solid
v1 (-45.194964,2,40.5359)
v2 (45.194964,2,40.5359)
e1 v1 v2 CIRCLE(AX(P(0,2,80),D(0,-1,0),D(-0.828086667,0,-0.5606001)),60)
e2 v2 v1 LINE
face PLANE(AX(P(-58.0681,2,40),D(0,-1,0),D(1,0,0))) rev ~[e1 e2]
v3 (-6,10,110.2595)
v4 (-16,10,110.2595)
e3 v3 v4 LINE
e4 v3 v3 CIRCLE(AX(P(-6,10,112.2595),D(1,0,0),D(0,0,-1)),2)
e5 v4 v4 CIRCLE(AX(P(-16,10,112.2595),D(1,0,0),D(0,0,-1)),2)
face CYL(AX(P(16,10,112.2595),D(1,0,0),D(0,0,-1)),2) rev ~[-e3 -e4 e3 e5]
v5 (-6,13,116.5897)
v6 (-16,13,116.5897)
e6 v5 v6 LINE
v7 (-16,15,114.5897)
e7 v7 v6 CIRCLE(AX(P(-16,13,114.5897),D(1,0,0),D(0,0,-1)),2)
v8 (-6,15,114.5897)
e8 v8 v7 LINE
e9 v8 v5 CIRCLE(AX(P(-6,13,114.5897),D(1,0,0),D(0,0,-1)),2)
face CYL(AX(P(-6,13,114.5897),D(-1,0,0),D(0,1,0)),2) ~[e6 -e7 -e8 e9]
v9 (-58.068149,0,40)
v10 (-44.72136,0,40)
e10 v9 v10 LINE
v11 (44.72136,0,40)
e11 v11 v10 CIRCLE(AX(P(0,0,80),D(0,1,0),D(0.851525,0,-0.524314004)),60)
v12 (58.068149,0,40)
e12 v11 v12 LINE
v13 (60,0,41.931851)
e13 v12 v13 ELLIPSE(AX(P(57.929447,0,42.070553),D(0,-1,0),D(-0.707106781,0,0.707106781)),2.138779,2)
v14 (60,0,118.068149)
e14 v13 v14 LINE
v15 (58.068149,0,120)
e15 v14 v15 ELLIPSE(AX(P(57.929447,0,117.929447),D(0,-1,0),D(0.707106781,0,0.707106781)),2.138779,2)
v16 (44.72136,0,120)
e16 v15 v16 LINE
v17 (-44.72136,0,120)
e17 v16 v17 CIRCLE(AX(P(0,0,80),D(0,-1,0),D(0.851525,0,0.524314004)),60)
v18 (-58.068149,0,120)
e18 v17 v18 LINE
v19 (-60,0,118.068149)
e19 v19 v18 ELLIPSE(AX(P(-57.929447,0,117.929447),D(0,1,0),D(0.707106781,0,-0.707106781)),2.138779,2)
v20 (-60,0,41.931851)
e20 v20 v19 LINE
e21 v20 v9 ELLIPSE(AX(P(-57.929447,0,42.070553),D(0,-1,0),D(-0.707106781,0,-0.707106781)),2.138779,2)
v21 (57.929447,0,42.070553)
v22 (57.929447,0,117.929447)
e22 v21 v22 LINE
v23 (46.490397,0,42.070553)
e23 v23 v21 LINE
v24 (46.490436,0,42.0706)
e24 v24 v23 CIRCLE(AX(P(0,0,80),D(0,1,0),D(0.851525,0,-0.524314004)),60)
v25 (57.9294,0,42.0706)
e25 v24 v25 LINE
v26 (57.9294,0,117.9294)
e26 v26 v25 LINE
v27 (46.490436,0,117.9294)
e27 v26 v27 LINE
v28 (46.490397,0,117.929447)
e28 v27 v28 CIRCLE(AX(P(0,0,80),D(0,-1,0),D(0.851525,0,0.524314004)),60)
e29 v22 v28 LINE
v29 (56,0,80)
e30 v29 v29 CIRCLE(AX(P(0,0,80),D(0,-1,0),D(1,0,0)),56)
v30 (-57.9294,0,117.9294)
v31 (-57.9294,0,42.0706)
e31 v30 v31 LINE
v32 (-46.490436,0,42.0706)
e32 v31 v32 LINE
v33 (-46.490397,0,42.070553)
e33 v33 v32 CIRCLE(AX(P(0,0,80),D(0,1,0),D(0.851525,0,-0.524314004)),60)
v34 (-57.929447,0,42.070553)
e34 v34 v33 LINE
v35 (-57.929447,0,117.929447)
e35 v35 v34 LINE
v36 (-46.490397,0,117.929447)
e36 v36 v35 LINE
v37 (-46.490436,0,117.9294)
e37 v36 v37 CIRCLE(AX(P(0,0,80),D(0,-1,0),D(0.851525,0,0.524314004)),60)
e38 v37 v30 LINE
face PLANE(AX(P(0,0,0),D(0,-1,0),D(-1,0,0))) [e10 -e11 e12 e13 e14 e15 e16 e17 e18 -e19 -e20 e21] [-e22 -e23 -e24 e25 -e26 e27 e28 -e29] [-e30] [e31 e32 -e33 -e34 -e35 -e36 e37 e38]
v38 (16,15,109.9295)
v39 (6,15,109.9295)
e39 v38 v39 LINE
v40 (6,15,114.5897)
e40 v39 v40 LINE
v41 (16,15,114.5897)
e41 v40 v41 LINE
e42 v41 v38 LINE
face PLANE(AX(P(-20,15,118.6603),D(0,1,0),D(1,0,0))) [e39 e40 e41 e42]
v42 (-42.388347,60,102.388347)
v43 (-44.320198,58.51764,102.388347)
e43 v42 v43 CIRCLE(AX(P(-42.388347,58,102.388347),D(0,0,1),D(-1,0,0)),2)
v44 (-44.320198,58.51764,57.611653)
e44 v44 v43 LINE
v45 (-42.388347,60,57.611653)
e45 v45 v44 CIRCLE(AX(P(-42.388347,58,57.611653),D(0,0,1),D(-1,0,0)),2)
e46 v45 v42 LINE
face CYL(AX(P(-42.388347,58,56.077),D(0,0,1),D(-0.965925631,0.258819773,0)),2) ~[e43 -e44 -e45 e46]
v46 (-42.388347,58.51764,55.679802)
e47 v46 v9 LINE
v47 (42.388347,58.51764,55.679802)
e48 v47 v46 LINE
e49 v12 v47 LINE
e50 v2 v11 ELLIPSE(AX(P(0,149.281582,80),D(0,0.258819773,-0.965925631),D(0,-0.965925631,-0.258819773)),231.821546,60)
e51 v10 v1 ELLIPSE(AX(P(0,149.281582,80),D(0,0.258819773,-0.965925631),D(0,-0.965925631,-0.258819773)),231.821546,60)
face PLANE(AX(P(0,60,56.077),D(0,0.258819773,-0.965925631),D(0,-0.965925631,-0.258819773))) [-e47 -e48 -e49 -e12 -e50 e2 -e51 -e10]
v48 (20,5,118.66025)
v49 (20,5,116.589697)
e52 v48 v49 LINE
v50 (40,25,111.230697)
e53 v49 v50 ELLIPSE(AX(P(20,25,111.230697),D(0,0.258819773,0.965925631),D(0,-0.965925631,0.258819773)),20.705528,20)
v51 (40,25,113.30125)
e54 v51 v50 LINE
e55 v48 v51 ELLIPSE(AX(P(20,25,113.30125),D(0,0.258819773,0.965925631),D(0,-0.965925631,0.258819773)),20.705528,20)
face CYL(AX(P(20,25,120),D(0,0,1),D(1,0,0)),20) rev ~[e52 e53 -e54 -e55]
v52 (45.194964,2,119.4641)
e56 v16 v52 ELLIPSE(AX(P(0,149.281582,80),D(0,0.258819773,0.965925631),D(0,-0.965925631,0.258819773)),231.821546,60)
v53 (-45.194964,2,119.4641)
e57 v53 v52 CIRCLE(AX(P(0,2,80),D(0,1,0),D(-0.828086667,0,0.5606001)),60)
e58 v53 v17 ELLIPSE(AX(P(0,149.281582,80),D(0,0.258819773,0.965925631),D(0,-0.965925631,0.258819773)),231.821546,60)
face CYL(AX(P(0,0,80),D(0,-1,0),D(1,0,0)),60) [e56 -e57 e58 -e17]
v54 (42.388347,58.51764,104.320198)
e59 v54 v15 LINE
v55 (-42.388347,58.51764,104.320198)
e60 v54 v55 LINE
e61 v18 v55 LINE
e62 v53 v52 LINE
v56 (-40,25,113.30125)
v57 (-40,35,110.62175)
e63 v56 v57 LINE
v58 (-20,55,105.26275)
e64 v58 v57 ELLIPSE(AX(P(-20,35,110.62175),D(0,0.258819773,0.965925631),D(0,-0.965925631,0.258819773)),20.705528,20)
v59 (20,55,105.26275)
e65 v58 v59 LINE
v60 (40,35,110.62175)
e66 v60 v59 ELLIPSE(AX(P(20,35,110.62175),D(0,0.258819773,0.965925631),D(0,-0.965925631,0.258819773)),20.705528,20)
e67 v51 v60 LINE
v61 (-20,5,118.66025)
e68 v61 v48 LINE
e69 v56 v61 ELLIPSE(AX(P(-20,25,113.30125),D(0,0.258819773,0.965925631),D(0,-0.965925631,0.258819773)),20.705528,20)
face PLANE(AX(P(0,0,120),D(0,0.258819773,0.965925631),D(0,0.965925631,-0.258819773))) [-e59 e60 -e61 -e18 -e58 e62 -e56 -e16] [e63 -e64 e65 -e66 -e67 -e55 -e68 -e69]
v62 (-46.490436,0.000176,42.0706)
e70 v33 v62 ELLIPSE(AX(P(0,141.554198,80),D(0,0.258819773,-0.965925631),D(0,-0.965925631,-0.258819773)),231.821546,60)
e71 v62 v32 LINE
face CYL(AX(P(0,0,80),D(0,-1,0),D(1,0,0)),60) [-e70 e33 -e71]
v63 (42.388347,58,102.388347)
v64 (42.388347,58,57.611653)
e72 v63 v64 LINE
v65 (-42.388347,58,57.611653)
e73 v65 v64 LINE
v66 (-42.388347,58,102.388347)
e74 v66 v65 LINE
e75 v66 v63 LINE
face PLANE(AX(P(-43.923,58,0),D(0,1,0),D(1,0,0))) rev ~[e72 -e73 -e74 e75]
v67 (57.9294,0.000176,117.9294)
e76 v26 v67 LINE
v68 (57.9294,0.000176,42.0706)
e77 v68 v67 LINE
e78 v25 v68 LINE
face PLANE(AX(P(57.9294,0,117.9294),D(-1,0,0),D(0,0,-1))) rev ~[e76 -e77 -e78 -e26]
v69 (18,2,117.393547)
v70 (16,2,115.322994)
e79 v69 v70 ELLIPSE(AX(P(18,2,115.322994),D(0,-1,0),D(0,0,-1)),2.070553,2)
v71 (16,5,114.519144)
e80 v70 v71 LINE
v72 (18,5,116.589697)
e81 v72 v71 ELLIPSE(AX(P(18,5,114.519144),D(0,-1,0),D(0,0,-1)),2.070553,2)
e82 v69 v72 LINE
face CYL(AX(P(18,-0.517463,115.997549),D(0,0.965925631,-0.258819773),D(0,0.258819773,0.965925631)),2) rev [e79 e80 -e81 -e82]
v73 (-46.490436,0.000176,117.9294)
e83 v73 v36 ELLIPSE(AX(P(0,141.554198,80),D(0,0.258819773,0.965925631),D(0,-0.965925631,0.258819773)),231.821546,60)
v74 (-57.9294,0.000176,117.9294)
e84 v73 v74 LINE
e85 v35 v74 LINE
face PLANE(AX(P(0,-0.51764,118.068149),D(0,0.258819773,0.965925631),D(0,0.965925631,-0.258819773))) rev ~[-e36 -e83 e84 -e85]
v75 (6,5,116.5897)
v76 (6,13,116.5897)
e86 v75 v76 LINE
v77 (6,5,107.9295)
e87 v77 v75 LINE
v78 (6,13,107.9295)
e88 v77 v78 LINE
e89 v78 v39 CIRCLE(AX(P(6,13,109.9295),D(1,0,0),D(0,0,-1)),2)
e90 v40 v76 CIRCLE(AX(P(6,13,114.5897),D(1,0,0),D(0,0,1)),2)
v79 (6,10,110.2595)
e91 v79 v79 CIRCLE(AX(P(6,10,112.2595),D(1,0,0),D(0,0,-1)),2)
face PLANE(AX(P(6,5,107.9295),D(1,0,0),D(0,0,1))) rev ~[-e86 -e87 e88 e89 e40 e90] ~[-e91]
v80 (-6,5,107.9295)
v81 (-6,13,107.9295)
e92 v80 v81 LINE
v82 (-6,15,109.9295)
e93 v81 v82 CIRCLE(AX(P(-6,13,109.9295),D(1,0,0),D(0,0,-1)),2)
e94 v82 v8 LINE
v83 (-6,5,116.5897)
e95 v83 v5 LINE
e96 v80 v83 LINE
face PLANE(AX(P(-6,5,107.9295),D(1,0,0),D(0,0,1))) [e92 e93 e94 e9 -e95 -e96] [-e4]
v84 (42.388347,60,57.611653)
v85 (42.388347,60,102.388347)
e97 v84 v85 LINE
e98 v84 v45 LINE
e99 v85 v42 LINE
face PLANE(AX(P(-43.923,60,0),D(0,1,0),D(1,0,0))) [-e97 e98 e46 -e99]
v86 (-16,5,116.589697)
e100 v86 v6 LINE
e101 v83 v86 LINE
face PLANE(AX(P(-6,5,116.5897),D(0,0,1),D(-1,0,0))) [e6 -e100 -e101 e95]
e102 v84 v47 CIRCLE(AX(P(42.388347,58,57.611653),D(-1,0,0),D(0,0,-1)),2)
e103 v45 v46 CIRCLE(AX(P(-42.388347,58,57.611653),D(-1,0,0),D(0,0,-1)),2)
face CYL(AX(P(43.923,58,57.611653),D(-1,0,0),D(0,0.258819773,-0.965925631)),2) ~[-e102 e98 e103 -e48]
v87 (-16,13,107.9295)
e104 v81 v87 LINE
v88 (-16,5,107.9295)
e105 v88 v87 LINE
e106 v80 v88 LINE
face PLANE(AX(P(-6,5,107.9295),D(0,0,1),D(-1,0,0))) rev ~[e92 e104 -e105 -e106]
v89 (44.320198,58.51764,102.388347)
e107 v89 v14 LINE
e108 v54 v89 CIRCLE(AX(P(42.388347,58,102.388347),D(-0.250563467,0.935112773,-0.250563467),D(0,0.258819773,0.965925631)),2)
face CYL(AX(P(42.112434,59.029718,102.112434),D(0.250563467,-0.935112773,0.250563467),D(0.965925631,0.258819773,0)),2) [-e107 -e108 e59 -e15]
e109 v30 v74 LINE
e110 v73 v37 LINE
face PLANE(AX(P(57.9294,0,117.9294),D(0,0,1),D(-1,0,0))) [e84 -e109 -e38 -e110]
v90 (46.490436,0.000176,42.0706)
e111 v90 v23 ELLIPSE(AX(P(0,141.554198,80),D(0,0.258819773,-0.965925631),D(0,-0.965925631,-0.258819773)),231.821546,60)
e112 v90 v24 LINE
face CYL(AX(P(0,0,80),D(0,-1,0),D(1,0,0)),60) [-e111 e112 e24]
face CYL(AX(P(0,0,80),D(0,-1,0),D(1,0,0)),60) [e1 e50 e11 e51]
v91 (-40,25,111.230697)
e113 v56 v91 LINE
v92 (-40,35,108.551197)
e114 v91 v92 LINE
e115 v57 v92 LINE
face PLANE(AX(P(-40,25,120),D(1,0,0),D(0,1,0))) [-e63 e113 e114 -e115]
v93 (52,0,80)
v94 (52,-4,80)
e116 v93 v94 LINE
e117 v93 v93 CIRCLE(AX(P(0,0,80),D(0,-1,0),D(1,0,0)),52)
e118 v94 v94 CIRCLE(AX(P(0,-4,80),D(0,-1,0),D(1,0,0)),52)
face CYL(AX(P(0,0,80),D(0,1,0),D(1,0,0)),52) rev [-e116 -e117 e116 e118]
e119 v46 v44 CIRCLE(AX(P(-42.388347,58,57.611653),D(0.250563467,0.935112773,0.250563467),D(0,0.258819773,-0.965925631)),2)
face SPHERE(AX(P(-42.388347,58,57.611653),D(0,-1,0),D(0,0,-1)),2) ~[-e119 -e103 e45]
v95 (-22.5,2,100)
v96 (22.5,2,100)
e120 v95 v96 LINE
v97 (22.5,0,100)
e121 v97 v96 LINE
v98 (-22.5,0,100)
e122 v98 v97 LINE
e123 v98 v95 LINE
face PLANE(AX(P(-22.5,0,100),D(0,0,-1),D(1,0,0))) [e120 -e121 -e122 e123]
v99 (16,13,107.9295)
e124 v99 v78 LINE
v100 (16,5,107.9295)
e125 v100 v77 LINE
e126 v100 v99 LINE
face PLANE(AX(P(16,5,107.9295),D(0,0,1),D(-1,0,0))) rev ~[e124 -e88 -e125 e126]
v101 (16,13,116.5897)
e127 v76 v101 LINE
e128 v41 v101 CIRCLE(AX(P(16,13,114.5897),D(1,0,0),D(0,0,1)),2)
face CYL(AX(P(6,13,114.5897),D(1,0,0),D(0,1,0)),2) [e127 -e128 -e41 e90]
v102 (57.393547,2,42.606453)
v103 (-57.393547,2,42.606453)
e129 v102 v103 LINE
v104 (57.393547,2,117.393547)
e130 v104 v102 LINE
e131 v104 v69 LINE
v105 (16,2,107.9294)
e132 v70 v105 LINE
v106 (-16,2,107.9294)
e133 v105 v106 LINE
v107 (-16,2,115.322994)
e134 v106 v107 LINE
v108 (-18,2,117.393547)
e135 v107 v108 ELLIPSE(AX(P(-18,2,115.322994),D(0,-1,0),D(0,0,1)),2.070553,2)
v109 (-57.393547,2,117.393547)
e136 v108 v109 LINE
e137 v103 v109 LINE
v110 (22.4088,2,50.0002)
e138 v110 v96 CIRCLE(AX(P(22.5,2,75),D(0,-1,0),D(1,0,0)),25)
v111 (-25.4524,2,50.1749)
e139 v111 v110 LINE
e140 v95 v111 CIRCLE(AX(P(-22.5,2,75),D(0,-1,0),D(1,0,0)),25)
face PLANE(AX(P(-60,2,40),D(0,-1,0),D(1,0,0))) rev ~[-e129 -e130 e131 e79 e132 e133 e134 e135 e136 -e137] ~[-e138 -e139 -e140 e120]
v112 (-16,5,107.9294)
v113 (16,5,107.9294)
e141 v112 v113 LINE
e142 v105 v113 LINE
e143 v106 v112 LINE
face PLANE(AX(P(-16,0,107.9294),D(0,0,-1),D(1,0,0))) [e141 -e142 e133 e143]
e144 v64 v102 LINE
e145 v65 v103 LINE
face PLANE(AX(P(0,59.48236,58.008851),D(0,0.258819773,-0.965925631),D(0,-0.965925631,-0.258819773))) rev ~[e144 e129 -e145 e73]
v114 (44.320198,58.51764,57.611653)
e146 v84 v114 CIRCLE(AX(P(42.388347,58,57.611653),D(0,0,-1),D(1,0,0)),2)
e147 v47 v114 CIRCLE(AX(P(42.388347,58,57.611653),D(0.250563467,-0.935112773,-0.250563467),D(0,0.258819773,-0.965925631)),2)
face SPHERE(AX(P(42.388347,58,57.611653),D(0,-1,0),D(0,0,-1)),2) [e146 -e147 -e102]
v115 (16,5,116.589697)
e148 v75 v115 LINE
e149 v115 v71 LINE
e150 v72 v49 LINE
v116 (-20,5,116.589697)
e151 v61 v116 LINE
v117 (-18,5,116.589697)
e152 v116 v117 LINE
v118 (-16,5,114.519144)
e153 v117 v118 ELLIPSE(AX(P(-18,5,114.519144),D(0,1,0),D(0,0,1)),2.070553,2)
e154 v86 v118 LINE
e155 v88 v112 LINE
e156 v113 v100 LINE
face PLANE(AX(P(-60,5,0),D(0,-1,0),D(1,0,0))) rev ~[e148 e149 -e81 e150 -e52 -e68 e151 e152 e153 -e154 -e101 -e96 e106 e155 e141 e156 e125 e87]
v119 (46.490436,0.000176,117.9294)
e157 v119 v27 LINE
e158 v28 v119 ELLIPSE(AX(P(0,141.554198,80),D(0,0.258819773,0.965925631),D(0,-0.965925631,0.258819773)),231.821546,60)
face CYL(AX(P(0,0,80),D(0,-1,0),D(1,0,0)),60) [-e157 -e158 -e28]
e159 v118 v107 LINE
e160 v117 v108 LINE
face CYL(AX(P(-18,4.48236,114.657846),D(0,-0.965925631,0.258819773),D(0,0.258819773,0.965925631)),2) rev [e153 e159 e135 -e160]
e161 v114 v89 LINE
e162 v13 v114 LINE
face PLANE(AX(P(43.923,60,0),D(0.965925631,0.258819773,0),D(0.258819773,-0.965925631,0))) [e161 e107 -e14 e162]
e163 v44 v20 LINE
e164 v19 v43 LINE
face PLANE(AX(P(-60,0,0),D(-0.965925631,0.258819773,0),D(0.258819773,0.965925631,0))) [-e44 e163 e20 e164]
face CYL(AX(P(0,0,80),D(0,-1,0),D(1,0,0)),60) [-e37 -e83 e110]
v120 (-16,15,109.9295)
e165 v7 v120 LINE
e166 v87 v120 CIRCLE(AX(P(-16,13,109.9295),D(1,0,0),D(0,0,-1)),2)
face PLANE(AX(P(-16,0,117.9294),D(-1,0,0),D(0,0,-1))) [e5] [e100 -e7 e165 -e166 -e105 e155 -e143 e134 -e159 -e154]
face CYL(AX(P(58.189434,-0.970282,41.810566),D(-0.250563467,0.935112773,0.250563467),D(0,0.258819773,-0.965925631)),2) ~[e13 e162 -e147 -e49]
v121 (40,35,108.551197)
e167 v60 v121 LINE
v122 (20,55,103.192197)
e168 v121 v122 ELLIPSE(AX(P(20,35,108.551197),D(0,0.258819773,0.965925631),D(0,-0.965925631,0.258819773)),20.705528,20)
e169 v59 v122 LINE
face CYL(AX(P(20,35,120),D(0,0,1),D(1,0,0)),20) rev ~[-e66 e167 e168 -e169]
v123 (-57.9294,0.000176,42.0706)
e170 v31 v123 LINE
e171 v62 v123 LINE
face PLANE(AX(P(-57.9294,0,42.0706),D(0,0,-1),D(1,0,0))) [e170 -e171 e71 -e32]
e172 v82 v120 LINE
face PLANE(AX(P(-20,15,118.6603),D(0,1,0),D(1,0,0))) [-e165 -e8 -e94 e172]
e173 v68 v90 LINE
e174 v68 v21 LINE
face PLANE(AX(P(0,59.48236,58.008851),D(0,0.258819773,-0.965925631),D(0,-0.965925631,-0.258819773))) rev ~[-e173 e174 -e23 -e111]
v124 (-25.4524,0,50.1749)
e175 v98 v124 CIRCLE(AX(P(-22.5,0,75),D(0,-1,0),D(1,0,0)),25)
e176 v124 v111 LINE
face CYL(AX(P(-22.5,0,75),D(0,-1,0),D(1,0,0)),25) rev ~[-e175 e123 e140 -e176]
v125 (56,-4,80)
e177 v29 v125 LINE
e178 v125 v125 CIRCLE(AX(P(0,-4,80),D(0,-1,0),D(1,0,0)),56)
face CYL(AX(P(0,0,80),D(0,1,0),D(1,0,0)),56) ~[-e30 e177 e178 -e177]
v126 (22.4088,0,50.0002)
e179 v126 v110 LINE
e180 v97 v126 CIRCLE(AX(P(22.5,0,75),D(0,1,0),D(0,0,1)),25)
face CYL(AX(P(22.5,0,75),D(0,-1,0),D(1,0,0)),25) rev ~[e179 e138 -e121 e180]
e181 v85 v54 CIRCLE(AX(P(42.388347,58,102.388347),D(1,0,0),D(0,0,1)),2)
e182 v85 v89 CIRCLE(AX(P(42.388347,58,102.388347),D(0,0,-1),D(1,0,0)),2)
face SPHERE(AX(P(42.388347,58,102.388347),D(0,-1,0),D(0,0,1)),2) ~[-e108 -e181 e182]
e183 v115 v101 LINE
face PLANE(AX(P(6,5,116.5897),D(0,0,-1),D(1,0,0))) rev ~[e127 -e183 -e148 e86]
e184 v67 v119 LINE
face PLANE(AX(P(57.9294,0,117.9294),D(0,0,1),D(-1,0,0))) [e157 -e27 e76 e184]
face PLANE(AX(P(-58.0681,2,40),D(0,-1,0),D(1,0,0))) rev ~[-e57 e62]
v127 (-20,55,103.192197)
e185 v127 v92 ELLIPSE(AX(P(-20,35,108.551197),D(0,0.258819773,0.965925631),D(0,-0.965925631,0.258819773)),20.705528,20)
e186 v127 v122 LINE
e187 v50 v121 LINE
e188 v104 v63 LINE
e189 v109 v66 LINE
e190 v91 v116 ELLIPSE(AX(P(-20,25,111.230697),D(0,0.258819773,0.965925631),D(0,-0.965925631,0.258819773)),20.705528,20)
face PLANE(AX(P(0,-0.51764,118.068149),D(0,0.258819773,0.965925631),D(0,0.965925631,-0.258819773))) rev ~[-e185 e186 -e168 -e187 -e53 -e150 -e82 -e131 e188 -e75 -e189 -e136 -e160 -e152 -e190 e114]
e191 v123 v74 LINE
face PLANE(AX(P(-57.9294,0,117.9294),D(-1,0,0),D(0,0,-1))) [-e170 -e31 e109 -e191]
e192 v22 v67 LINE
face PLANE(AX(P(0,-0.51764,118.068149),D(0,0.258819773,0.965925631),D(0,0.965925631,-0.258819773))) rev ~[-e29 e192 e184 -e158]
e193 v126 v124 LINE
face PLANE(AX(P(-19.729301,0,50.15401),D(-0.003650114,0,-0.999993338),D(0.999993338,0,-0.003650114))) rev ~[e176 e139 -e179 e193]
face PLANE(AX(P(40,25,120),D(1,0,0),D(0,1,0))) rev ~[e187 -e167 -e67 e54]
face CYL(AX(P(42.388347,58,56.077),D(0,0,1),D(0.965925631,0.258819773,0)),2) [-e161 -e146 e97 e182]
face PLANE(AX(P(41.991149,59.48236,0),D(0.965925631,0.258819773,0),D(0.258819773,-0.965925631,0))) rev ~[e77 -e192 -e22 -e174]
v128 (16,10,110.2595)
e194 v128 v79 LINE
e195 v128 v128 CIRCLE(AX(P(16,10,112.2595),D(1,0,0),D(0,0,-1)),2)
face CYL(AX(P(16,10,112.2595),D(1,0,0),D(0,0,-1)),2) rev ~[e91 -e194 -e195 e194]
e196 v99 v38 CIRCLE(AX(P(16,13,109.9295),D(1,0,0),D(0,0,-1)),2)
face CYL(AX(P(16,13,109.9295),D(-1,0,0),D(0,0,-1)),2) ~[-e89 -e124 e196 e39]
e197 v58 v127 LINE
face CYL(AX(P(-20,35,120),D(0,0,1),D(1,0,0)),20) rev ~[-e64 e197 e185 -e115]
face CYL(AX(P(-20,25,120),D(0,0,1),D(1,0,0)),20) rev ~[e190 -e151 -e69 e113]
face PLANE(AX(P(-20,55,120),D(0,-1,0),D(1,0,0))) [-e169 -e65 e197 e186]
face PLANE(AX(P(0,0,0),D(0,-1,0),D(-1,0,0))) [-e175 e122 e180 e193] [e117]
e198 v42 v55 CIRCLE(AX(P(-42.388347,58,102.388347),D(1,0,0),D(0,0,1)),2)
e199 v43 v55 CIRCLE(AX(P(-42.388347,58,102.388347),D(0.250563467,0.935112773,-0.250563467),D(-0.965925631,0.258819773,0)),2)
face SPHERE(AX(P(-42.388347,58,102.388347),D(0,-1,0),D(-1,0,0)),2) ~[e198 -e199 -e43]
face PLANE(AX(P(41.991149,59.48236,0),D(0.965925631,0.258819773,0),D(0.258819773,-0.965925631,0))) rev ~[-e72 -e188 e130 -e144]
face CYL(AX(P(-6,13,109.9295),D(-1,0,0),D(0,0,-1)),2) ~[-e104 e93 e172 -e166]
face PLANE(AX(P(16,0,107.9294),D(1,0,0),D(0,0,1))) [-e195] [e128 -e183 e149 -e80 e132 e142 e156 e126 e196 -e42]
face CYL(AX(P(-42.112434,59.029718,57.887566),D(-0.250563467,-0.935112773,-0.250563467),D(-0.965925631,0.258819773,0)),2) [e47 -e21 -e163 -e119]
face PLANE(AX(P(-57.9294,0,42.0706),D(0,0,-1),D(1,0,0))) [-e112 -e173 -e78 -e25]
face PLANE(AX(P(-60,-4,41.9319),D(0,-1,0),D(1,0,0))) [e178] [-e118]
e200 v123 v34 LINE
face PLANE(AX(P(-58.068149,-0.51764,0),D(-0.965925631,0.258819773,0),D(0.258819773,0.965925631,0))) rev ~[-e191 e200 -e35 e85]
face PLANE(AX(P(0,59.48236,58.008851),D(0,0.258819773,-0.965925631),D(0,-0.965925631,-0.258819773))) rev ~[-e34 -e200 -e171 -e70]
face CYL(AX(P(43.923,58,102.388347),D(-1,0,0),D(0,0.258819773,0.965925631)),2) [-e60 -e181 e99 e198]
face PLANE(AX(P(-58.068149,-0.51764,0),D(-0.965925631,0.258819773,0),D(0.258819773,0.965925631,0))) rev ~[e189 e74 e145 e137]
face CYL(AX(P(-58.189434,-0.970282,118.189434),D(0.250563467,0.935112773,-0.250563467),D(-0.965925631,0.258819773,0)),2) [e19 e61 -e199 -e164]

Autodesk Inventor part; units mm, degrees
ref_plane "YZ Plane" through (0, 0, 0) normal (1, 0, 0) x (0, 1, 0)
ref_plane "XZ Plane" through (0, 0, 0) normal (0, 1, 0) x (-1, 0, 0)
sketch "Эскиз1" plane through (0, 0, 0) normal (0, 0, 1) x (1, 0, 0)
  line L0 (-60, 0) -> (-43.923, 60)
  line L1 (-43.923, 60) -> (43.923, 60)
  line L2 (43.923, 60) -> (60, 0)
  line L3 (60, 0) -> (-60, 0)
  line L4 (0, 0) -> (0, 60)
  dimension "d0" = 120
  dimension "d1" = 75
  dimension "d2" = 60
extrude "Выдавливание1" add sketch "Эскиз1" along normal blind 120
sketch "Эскиз2" plane through (0, 0, 0) normal (1, 0, 0) x (0, 1, 0)
  line L0 (60, 120) -> (0, 120) projected
  line L1 (0, 120) -> (60, 103.923)
  line L2 (60, 0) -> (60, 120) projected
  line L3 (60, 103.923) -> (60, 16.077)
  line L4 (0, 0) -> (0, 120) projected
  line L5 (60, 16.077) -> (0, 0)
  line L6 (0, 0) -> (0, 120)
  line L7 (60, 60) -> (0, 60)
  line L8 (60, 56.077) -> (0, 40)
  point P0 (60, 16.077)
  point P1 (60, 56.077)
  dimension "d5" = 75
  dimension "d36" = 80
  dimension "d37" = 75
extrude "Выдавливание2" cut sketch "Эскиз2" along normal mid plane 120 contours L1 L2 L7 L4 | L7 L2 L8 L4 keep common part
shell "Оболочка1" thickness 2 removed faces 1 at (-20, 0, 66.6667)
ref_plane "РабПлоскость1" through (0, 0, 120) normal (0, 0, 1) x (1, 0, 0)
sketch "Эскиз4" plane through (0, 0, 120) normal (0, 0, 1) x (1, 0, 0)
  circle A0 centre (-20, 35) radius 20
  circle A1 centre (20, 35) radius 20
  circle A2 centre (-20, 25) radius 20
  circle A3 centre (20, 25) radius 20
  line L0 (0, 0) -> (0, 60)
  line L1 (43.923, 60) -> (-43.923, 60) projected
  line L2 (-20, 5) -> (20, 5)
  line L3 (-40, 25) -> (-40, 35)
  line L4 (40, 25) -> (40, 35)
  line L5 (-20, 55) -> (20, 55)
  line L6 (-60, 0) -> (60, 0) projected
  line L7 (-20, 25) -> (-20, 5)
  dimension "d13" = 40
  dimension "d14" = 40
  dimension "d15" = 40
  dimension "d16" = 40
  dimension "d26" = 5
  dimension "d27" = 0
  dimension "d42" = 5
extrude "Выдавливание3" cut sketch "Эскиз4" against normal blind 40
sketch "Эскиз5" plane through (-60, 0, 0) normal (0, -1, 0) x (1, 0, 0)
  line L0 (2.0706, 117.9294) -> (117.9294, 117.9294) projected
  line L1 (76, 117.9294) -> (44, 117.9294)
  line L2 (44, 117.9294) -> (44, 107.9294)
  line L3 (44, 107.9294) -> (76, 107.9294)
  line L4 (76, 107.9294) -> (76, 117.9294)
  point P0 (60, 0)
  point P1 (44, 117.9294)
  point P2 (60, 117.9294)
  point P3 (60, 117.9294)
  dimension "d21" = 10
  dimension "d22" = 32
  dimension "d38" = 0
extrude "Выдавливание4" add sketch "Эскиз5" against normal blind 5
sketch "Эскиз6" plane through (-20, 5, 118.6603) normal (0, 1, 0) x (1, 0, 0)
  line L0 (36, 10.7308) -> (4, 10.7308) projected
  line L1 (4, 10.7308) -> (14, 10.7308)
  line L2 (14, 10.7308) -> (14, 2.0706)
  line L3 (14, 2.0706) -> (4, 2.0706)
  line L4 (4, 2.0706) -> (4, 10.7308)
  line L5 (36, 10.7308) -> (26, 10.7308)
  line L6 (26, 10.7308) -> (26, 2.0706)
  line L7 (26, 2.0706) -> (36, 2.0706)
  line L8 (36, 2.0706) -> (36, 10.7308)
  point P0 (20, 118.6603)
  dimension "d28" = 10
  dimension "d29" = 10
extrude "Выдавливание5" add sketch "Эскиз6" along normal blind 10
sketch "Эскиз7" plane through (16, 0, 117.9294) normal (1, 0, 0) x (0, 0, -1)
  line L0 (1.3397, 15) -> (10, 15) projected
  line L1 (10, 5) -> (10, 15) projected
  circle A0 centre (5.6699, 10) radius 2
  point P0 (117.9294, 0)
  point P1 (5.6699, 15)
  point P2 (10, 10)
  dimension "d32" = 4
extrude "Выдавливание6" cut sketch "Эскиз7" against normal blind 40
fillet "Сопряжение1" radius 2 6 edges at (11, 15, 107.9294) (11, 15, 116.5897) (-11, 15, 107.9294) (-11, 15, 116.5897) (16, 2.5, 117.2596) (-16, 2.5, 117.2596)
sketch "Эскиз8" plane through (-60, 0, 40) normal (0, -1, 0) x (1, 0, 0)
  line L0 (117.9294, 77.9294) -> (117.9294, 2.0706) projected
  line L1 (2.0706, 2.0706) -> (17.6116, 17.6116) projected
  line L2 (117.9294, 77.9294) -> (2.0706, 77.9294)
  line L3 (2.0706, 77.9294) -> (2.0706, 2.0706)
  line L4 (2.0706, 2.0706) -> (117.9294, 2.0706)
  line L5 (117.9294, 2.0706) -> (117.9294, 77.9294)
  point P0 (60, -40)
extrude "Выдавливание7" add sketch "Эскиз8" against normal blind 2
fillet "Сопряжение2" radius 2 8 edges at (51.9615, 30, 111.9615) (51.9615, 30, 48.0385) (-51.9615, 30, 48.0385) (-51.9615, 30, 111.9615) (0, 60, 56.077) (-43.923, 60, 80) (0, 60, 103.923) (43.923, 60, 80)
sketch "Эскиз9" plane through (-58.0681, 0, 40) normal (0, -1, 0) x (1, 0, 0)
  line L0 (118.0681, 1.9319) -> (118.0681, 78.0681) projected
  line L1 (116.1363, 0) -> (0, 0) projected
  circle A0 centre (80.5681, 35) radius 25
  line L2 (80.5681, 35) -> (35.5681, 35)
  circle A1 centre (35.5681, 35) radius 25
  line L3 (35.5681, 60) -> (80.5681, 60)
  line L4 (32.6157, 10.1749) -> (80.4769, 10.0002)
  line L5 (0, 80) -> (116.1363, 80) projected
  point P0 (58.0681, -40)
  point P1 (118.0681, 40)
  point P2 (58.0681, 0)
  point P3 (58.0681, 35)
  dimension "d44" = 0
  dimension "d45" = 45
  dimension "d48" = 35
  dimension "d49" = 20
extrude "Выдавливание8" cut sketch "Эскиз9" against normal blind 10 contours A0 A1 | A0 A1 L3 | L4 A1 A0 | A1 L2 A0 | A0 A1 L4 | A0 L2 A1
sketch "Эскиз10" plane through (-58.0681, 0, 40) normal (0, -1, 0) x (1, 0, 0)
  line L0 (118.0681, 1.9319) -> (118.0681, 78.0681) projected
  line L1 (116.1363, 0) -> (0, 0) projected
  circle A0 centre (58.0681, 40) radius 60
  arc A1 (80.4769, 10.0002) -> (80.5681, 60) centre (80.5681, 35) ccw projected
  line L2 (35.5681, 60) -> (80.5681, 60) projected
  arc A2 (35.5681, 60) -> (32.6157, 10.1749) centre (35.5681, 35) ccw projected
  line L3 (80.4769, 10.0002) -> (32.6157, 10.1749) projected
  line L4 (0, 80) -> (116.1363, 80) projected
  line L5 (109.1596, 80) -> (109.1596, 0)
  line L6 (8.3829, 0) -> (8.3829, 80)
  point P0 (58.0681, -40)
  point P1 (118.0681, 40)
  point P2 (58.0681, 0)
  point P3 (8.3829, 73.636)
  point P4 (8.3829, 6.364)
  point P5 (109.1596, 8.541)
  point P6 (109.1596, 71.459)
  dimension "d51" = 120
extrude "Выдавливание9" add sketch "Эскиз10" against normal blind 2 contours A0 L1 | L1 A0 L6 L4 L5 | L4 A0
sketch "Эскиз11" plane through (-60, 0, 41.9319) normal (0, -1, 0) x (1, 0, 0)
  arc A0 (14.805, -1.396) -> (105.195, -1.396) centre (60, 38.0681) ccw projected
  circle A1 centre (60, 38.0681) radius 60
  circle A2 centre (60, 38.0681) radius 56
  arc A3 (104.7214, 78.0681) -> (15.2786, 78.0681) centre (60, 38.0681) ccw projected
  circle A4 centre (60, 38.0681) radius 52
  point P0 (60, -41.9319)
  point P1 (60, 94.0681)
  point P2 (60, 98.0681)
  point P3 (60, 90.0681)
  dimension "d54" = 4
  dimension "d55" = 4
extrude "Выдавливание10" add sketch "Эскиз11" along normal blind 4 contours A2
equation "\"d19\" = d15"
properties part number "корпус башни" material "Стекло"
